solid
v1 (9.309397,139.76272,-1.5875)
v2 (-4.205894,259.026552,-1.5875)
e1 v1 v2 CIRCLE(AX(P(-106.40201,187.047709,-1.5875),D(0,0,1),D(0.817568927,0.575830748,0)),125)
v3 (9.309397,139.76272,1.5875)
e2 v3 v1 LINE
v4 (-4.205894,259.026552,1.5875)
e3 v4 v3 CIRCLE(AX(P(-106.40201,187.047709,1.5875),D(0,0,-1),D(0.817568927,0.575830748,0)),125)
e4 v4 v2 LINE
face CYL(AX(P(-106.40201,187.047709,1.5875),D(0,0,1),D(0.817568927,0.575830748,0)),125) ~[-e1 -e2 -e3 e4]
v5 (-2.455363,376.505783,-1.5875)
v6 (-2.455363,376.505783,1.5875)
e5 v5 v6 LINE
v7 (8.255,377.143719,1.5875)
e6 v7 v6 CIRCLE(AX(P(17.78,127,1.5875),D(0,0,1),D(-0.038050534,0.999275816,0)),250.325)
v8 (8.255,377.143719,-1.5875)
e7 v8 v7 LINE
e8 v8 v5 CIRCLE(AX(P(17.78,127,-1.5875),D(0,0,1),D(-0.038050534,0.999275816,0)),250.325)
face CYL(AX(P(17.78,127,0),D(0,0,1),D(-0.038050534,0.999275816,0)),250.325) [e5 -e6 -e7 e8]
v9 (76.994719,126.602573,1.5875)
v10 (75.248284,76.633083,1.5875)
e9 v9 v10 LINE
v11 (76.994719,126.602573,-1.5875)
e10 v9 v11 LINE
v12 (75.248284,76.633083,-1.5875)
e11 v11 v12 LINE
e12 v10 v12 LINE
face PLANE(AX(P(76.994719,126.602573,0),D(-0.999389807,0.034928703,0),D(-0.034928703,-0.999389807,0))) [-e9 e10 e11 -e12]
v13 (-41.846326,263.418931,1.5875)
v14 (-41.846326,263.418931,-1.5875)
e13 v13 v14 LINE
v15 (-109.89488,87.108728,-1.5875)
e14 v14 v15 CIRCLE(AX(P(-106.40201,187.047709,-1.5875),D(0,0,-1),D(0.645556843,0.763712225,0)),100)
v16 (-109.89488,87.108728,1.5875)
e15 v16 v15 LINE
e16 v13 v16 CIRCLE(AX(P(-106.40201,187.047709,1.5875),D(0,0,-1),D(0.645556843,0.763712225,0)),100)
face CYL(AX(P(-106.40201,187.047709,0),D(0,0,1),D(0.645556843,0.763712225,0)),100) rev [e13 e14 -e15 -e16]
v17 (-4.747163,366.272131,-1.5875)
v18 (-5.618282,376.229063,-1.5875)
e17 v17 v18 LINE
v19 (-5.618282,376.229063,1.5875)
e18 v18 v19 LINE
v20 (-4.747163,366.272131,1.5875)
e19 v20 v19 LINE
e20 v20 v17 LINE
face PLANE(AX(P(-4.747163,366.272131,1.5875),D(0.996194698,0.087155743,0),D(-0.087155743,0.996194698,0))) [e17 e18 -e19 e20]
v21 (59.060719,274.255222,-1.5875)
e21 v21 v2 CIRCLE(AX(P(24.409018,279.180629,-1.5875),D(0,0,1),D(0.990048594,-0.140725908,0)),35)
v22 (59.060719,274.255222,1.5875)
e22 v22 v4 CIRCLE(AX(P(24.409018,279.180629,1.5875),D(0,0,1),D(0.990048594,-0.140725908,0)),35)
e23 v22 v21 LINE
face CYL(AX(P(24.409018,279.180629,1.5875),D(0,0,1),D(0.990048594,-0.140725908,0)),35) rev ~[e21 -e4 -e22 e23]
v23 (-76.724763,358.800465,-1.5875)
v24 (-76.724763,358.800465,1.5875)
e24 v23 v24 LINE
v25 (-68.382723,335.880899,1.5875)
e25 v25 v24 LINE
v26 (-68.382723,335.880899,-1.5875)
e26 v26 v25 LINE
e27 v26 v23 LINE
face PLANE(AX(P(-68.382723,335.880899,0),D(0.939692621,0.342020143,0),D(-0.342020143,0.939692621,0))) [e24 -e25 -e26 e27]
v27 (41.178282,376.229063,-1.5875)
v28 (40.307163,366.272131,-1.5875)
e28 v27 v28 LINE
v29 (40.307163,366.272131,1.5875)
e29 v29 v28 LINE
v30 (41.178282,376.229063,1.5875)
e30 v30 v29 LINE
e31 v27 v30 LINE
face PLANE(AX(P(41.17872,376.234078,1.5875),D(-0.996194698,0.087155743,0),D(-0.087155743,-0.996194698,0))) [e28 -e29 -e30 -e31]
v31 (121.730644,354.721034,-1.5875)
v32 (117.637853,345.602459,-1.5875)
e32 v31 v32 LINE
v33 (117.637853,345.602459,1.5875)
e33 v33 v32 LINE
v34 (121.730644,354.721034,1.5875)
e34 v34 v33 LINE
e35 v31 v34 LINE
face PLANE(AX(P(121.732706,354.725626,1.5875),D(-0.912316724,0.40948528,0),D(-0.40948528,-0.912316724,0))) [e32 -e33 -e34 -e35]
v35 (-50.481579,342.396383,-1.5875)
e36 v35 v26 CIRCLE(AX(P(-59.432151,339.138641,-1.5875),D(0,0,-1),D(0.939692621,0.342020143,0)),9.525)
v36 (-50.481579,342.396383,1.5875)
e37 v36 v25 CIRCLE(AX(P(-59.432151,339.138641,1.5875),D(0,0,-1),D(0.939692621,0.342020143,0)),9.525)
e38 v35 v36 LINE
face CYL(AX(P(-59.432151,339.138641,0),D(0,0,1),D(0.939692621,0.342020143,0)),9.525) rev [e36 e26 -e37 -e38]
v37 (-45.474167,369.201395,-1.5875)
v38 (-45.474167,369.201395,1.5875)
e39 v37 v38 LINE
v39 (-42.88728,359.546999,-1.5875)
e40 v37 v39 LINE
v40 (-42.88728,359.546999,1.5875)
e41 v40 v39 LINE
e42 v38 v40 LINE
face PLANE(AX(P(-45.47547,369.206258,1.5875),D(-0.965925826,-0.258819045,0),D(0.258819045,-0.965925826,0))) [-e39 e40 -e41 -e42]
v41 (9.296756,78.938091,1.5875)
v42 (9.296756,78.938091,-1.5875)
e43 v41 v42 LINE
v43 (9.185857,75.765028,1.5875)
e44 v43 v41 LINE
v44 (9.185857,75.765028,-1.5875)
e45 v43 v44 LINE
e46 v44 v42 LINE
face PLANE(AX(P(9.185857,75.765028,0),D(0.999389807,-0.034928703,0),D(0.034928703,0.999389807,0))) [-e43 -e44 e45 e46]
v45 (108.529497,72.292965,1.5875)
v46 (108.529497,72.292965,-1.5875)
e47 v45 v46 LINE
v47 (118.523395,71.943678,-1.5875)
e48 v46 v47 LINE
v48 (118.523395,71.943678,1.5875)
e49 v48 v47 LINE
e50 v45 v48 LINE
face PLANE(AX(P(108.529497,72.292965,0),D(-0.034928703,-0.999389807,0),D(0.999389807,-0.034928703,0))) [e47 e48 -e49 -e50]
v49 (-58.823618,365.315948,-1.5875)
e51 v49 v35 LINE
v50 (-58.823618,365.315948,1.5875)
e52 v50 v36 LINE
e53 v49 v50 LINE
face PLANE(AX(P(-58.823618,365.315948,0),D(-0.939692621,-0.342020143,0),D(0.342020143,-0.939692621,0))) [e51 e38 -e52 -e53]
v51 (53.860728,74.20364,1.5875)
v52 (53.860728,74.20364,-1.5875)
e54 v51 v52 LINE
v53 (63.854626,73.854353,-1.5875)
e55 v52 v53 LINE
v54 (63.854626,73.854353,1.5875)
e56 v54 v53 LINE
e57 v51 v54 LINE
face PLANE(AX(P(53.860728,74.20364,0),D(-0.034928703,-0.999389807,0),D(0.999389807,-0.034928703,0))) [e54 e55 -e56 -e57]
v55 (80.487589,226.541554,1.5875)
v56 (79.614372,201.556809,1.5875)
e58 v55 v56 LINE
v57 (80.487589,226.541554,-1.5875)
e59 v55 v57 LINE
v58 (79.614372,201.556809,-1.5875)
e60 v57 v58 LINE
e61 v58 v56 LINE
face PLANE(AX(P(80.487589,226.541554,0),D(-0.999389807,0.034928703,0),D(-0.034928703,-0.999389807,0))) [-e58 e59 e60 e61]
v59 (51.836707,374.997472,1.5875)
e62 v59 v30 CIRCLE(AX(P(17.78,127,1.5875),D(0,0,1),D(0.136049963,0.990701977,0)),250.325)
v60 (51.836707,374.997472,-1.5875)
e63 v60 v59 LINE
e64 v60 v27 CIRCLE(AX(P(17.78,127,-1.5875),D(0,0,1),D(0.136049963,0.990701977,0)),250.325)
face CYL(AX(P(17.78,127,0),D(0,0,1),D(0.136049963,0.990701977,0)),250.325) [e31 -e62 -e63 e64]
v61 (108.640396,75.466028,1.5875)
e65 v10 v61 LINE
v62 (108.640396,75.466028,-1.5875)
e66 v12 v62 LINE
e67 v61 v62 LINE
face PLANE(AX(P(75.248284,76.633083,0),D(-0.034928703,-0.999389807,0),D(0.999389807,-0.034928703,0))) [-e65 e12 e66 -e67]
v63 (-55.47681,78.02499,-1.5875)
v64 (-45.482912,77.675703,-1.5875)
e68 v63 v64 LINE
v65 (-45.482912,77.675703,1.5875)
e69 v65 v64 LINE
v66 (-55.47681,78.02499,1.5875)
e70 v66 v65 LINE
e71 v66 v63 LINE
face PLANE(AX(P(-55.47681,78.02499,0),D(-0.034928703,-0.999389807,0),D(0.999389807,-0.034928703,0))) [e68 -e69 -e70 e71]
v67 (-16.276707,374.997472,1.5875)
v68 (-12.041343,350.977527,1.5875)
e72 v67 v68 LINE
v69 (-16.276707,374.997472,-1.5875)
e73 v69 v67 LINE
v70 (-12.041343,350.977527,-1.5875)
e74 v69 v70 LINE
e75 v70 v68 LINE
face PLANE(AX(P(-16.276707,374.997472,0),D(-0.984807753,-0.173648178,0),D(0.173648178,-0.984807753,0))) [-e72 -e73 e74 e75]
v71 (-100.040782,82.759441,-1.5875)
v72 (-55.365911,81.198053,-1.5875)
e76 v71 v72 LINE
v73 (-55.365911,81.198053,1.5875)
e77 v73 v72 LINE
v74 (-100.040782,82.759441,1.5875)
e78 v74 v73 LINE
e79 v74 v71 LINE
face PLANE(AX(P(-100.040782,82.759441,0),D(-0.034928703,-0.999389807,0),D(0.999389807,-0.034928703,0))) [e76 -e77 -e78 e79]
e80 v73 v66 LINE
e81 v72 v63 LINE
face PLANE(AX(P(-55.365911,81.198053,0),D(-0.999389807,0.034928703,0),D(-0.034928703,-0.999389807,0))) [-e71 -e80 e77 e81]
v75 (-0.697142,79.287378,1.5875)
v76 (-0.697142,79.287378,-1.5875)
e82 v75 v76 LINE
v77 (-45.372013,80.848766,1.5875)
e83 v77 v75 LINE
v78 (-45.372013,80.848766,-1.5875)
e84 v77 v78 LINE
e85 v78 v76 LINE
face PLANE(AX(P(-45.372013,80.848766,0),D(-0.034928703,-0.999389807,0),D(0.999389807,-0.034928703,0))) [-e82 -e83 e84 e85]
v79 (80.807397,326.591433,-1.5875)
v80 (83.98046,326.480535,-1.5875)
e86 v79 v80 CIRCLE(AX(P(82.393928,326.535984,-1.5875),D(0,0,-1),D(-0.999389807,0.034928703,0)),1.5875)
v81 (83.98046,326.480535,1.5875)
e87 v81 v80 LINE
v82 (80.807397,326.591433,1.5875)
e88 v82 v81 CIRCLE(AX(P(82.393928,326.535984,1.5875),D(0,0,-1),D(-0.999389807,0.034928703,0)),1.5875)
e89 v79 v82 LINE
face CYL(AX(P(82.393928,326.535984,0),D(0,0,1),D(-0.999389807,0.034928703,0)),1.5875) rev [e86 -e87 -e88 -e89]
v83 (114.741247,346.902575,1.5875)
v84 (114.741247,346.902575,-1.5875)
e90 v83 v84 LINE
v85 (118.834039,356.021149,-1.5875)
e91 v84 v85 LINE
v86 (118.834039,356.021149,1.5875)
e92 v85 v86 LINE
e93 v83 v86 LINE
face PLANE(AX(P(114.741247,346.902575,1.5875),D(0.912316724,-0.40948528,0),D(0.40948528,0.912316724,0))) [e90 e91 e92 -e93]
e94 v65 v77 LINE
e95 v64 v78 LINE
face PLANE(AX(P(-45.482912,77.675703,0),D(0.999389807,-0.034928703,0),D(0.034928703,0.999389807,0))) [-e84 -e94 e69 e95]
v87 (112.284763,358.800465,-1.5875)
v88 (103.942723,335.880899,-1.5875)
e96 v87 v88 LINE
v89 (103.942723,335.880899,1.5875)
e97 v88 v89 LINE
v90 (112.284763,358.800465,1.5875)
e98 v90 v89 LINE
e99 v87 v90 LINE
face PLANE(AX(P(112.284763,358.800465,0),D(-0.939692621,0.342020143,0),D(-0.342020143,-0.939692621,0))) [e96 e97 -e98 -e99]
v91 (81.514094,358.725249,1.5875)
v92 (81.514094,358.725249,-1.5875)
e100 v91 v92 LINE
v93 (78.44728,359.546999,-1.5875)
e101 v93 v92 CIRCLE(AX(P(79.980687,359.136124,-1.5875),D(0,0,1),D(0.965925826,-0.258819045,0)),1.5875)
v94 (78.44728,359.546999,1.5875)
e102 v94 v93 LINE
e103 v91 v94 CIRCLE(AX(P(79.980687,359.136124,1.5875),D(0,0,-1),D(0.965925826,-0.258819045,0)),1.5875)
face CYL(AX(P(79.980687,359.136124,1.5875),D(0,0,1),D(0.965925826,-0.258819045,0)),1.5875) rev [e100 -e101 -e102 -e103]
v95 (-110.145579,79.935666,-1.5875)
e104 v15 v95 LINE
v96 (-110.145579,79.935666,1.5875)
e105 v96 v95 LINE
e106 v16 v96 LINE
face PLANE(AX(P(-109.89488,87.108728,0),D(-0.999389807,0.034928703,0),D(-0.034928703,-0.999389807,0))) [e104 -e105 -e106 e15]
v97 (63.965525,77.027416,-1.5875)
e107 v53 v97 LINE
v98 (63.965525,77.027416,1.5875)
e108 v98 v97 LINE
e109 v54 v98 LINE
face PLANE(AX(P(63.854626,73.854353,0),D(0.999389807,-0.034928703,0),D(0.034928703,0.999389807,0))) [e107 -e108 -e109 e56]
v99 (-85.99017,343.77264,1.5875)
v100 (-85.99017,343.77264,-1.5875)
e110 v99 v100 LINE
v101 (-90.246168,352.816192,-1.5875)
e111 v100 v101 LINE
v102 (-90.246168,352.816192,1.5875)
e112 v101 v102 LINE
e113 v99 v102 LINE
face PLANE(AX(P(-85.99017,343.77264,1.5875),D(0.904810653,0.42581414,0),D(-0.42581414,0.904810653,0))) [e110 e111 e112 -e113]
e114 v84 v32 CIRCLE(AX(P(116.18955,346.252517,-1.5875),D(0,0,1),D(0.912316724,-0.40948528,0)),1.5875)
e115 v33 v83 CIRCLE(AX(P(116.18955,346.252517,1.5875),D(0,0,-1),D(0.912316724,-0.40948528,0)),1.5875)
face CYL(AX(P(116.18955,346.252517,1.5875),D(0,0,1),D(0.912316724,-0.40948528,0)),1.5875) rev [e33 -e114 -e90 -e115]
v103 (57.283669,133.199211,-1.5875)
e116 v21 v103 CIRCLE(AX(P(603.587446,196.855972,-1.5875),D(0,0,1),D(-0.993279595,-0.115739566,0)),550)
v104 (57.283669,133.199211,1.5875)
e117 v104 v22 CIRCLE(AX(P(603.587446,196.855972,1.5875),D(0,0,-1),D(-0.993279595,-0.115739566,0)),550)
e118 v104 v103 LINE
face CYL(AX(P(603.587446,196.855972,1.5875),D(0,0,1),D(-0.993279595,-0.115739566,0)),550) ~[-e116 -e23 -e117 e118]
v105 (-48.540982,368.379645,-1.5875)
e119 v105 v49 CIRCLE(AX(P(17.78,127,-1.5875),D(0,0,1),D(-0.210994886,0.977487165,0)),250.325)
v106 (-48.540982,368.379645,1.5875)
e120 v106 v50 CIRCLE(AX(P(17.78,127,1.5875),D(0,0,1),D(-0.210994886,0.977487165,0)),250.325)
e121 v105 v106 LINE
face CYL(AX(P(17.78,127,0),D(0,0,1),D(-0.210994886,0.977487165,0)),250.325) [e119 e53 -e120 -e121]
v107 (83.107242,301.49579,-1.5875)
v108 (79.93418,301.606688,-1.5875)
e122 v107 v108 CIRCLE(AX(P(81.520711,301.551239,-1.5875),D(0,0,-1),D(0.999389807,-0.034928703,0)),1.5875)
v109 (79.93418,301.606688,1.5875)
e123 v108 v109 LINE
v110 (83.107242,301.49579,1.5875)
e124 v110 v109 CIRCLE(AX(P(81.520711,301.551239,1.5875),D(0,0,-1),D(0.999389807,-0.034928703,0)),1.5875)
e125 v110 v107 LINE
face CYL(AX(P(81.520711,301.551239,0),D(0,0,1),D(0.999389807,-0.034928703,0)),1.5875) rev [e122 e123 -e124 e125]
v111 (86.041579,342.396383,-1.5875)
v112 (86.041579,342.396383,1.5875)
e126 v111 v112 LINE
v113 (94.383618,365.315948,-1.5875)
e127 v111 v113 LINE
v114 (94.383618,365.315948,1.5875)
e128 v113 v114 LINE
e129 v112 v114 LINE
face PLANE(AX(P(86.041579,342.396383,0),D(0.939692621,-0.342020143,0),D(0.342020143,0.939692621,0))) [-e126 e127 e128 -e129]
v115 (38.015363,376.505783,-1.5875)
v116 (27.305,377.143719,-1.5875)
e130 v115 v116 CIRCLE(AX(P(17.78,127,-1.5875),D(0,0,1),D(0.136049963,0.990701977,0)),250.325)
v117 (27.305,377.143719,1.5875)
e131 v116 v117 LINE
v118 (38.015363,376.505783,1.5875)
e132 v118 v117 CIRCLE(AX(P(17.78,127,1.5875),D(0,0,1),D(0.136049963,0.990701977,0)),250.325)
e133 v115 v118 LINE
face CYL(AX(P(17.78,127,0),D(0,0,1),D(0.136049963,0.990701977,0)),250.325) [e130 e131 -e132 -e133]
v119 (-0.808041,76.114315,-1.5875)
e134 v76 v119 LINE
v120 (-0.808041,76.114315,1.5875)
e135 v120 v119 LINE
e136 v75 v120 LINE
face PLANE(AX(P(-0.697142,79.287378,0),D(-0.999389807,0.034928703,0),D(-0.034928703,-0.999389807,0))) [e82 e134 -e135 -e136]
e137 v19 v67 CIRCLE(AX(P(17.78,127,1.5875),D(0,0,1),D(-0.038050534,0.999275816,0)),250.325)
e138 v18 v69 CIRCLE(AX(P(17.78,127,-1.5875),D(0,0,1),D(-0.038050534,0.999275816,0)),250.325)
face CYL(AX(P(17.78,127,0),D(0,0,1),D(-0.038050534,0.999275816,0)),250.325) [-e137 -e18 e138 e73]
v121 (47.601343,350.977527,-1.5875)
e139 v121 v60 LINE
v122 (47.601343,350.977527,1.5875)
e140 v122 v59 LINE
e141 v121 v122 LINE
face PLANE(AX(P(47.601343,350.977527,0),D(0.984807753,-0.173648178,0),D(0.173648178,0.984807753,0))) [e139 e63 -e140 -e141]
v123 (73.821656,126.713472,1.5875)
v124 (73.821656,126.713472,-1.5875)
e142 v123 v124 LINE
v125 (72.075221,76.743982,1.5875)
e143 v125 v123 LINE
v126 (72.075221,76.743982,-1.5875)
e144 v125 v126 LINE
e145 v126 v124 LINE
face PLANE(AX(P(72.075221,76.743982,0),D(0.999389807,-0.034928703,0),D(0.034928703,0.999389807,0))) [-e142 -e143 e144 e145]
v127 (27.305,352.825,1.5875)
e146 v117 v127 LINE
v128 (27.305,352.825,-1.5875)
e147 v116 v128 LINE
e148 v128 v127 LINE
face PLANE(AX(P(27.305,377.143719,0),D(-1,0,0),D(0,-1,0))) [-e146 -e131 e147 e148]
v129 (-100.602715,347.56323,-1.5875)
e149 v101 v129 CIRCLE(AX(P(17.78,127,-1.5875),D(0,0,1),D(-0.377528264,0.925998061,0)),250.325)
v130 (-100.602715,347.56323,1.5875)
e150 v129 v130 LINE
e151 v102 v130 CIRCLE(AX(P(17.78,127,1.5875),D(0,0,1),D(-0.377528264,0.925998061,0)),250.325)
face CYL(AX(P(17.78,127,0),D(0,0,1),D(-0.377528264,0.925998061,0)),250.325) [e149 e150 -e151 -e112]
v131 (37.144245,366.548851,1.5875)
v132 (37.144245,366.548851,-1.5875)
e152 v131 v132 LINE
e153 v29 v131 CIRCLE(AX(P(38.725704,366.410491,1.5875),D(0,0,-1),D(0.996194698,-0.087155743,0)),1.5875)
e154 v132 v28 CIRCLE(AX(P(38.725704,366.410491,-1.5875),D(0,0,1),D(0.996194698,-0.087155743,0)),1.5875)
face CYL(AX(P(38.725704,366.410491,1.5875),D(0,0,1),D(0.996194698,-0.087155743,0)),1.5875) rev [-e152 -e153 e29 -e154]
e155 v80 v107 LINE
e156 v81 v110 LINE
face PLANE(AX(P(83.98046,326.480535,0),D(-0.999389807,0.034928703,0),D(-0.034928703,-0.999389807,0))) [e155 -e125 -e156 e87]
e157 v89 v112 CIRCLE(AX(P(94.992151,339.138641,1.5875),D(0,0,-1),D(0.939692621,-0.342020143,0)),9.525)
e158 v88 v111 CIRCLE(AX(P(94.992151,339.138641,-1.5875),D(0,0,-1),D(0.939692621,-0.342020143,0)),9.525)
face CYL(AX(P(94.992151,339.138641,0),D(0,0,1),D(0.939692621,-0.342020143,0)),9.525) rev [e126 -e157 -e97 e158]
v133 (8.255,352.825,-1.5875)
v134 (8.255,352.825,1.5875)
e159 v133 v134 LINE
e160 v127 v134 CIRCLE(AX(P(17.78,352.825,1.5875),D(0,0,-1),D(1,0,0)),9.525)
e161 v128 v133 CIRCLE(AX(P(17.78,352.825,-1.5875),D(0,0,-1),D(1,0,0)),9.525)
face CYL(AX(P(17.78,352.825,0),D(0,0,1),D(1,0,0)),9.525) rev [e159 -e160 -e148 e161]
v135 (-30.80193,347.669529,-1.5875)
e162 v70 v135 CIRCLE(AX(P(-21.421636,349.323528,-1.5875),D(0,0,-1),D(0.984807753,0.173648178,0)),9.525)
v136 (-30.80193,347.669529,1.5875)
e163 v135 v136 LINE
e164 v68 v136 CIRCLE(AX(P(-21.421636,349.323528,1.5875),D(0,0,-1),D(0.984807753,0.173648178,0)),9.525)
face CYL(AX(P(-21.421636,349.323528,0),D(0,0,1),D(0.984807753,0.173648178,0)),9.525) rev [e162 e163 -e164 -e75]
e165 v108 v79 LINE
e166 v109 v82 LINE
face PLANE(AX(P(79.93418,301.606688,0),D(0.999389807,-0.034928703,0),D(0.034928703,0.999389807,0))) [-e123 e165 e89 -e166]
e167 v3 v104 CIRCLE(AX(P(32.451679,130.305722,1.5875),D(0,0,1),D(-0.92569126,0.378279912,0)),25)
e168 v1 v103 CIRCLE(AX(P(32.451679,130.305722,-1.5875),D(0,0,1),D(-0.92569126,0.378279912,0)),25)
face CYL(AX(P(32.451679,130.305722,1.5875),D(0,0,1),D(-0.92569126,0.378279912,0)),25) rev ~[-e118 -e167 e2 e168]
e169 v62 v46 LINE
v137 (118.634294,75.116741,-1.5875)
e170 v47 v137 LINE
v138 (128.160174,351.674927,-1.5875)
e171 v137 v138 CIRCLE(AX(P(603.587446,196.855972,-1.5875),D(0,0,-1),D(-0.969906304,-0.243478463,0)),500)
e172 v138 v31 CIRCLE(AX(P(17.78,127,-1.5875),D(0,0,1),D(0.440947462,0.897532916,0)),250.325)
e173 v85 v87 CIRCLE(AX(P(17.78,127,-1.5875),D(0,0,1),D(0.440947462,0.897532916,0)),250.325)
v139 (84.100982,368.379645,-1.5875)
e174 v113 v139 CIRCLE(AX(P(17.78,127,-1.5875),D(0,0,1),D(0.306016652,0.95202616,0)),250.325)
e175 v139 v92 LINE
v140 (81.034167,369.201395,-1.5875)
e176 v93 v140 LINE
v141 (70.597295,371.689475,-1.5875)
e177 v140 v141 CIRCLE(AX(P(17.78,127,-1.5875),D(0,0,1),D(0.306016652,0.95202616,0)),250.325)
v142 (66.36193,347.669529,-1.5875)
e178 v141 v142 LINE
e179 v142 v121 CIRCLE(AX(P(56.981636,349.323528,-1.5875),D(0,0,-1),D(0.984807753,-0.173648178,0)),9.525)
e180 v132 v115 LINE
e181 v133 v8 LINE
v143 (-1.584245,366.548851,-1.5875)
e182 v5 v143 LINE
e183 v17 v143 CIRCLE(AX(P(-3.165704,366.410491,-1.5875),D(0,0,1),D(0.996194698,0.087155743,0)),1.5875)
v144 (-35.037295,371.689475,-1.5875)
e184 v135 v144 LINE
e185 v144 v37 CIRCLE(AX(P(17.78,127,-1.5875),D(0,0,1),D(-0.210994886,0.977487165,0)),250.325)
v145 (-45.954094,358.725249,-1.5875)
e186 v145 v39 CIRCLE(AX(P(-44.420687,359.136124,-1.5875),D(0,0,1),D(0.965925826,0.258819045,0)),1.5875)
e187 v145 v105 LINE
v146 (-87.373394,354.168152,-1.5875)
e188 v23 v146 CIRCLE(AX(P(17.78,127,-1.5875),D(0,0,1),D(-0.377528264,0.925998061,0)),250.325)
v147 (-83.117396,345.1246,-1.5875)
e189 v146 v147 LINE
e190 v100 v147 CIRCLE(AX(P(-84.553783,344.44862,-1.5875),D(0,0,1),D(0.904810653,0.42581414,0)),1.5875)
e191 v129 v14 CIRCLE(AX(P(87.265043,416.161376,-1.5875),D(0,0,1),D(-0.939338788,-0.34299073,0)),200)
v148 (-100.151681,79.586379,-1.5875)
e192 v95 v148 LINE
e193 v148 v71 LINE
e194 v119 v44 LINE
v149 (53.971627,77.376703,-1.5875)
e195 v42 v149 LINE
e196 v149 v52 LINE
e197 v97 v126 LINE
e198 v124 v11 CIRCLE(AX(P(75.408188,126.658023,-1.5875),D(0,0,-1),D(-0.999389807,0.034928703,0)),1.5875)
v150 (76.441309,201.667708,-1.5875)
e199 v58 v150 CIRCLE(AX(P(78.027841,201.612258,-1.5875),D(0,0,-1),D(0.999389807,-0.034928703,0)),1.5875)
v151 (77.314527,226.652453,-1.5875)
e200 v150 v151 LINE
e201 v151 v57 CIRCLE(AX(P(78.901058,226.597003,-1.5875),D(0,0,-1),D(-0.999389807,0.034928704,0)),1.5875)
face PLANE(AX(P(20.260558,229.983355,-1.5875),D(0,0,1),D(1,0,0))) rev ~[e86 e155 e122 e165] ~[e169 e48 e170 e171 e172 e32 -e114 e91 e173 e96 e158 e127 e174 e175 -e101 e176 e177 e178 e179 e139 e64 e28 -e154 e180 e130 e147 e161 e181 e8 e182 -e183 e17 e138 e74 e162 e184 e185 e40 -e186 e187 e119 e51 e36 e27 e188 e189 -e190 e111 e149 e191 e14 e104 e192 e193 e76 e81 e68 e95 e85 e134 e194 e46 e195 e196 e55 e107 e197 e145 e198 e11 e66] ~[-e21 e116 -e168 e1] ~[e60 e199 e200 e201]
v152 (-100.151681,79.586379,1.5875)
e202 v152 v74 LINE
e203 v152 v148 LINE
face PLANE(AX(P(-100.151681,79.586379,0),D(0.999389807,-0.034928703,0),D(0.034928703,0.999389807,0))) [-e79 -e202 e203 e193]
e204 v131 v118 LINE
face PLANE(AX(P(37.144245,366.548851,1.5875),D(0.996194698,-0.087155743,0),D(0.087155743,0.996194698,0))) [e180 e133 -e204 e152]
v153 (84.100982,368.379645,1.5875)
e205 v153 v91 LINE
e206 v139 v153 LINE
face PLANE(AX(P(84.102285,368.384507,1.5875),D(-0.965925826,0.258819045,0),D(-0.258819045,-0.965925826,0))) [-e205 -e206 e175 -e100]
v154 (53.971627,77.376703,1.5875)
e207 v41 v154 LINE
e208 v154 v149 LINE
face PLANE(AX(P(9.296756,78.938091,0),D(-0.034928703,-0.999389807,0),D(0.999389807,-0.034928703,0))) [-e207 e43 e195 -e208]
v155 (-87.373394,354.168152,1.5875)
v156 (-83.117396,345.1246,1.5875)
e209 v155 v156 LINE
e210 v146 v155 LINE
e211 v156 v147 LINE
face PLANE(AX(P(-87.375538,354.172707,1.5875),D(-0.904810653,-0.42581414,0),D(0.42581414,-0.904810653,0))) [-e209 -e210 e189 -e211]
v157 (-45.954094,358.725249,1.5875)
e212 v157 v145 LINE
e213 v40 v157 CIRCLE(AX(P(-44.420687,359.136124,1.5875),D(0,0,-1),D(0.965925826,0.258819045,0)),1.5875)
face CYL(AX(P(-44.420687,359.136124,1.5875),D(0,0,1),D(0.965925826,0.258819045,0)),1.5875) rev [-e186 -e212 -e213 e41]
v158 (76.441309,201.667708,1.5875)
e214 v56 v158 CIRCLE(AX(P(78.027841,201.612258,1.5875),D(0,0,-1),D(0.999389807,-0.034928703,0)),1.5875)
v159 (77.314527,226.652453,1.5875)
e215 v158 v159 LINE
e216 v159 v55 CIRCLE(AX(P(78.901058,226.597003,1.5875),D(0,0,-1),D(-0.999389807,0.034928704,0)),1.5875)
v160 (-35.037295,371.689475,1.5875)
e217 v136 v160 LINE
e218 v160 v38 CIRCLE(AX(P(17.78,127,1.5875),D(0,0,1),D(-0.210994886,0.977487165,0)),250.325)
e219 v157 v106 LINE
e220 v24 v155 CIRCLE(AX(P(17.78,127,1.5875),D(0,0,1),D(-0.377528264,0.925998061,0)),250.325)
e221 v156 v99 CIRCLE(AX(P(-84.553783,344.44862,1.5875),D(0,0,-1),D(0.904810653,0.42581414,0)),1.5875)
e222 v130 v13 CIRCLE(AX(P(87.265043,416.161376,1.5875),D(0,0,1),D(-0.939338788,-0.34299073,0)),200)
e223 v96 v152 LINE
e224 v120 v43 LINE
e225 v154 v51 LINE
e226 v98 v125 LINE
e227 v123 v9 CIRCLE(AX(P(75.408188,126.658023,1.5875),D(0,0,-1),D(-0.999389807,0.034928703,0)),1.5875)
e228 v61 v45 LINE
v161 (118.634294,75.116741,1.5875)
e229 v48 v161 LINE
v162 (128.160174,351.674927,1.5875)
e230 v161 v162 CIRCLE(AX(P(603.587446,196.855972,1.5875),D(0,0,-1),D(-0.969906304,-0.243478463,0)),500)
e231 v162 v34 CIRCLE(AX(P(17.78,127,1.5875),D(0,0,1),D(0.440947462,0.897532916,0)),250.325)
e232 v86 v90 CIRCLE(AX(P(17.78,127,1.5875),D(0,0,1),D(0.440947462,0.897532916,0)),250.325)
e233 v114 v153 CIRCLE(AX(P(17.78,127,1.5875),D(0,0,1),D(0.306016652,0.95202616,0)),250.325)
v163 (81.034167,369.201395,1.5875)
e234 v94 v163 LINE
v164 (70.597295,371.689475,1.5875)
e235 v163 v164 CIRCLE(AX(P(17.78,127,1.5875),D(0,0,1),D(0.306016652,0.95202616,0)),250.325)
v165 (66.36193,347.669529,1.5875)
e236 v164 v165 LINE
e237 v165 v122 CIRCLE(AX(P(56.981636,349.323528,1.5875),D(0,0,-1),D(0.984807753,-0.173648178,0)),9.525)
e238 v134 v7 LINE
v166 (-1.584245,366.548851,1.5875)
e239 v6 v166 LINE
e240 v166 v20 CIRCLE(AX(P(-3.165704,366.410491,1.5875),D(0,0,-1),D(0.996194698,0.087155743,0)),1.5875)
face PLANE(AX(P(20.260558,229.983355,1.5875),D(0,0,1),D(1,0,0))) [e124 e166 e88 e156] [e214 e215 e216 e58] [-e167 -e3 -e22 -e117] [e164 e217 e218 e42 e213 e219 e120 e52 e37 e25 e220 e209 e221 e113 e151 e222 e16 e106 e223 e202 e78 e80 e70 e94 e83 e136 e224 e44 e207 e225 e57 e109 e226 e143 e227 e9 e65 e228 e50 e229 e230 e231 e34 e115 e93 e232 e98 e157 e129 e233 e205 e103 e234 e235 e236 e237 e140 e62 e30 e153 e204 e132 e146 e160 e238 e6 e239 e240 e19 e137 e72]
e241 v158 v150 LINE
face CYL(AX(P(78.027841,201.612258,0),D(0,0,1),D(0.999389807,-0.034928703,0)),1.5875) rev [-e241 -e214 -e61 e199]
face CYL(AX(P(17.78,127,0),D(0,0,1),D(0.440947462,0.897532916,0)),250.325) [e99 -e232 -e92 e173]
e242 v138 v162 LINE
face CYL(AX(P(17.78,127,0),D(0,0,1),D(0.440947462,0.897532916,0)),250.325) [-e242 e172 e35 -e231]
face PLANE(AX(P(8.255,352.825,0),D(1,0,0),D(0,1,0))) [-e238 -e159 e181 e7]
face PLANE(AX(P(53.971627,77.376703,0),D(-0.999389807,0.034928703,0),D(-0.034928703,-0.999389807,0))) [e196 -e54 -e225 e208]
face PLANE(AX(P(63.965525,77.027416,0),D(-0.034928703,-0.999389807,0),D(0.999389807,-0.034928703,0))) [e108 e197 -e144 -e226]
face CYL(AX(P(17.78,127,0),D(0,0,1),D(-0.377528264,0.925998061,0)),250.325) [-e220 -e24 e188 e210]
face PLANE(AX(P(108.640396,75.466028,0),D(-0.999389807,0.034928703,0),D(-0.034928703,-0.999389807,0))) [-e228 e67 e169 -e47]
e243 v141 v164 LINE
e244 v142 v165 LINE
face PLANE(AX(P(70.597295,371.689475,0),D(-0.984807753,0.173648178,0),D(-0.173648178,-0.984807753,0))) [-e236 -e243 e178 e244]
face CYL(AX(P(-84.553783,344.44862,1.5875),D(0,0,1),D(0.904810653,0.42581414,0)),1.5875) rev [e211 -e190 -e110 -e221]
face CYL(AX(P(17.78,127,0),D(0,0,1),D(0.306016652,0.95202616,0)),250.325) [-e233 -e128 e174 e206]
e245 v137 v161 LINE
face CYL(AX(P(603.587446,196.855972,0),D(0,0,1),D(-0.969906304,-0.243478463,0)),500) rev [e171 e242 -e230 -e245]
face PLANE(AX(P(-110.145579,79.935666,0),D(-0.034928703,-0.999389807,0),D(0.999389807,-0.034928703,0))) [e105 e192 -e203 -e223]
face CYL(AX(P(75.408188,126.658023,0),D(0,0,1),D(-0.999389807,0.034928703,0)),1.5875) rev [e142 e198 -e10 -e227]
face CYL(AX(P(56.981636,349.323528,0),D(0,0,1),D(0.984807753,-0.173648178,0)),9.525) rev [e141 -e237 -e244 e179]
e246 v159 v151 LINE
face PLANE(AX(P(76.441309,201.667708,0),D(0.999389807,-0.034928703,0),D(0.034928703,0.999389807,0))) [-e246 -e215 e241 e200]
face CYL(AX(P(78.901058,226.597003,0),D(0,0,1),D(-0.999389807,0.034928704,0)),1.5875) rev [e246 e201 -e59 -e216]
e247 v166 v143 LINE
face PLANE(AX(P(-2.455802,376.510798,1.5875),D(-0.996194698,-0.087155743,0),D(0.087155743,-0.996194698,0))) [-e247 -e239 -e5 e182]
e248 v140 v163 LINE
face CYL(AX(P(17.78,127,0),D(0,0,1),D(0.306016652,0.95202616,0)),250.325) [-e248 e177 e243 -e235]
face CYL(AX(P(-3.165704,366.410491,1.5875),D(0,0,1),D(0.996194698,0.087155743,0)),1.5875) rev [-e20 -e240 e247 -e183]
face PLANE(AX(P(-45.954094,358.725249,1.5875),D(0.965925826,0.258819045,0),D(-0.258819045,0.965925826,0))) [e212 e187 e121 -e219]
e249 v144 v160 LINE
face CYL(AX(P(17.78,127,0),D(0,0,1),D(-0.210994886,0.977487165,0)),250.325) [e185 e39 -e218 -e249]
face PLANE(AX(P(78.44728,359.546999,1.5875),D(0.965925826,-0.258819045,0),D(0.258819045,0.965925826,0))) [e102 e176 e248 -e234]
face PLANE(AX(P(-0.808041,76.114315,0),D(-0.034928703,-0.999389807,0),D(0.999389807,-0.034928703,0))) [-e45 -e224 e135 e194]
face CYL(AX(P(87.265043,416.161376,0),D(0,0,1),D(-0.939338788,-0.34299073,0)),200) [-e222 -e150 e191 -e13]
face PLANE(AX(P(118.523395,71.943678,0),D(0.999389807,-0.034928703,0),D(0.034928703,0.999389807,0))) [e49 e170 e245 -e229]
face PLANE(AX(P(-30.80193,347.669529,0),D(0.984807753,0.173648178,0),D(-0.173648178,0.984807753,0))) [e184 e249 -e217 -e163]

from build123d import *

# Parameters (mm, degrees)
BOSS_EXTRUDE1_DEPTH = 1.5875
CUT_EXTRUDE1_DEPTH  = 10
CUT_EXTRUDE2_DEPTH  = 399.337162784


with BuildPart() as part:
    # Sketch1 → Boss-Extrude1 (new, symmetric)
    with BuildSketch(Plane.XY):
        with BuildLine():
            Line((118.523395286, 71.943678131), (118.634293919, 75.116740767))
            ThreePointArc((118.634293919, 75.116740767), (103.883786228, 214.067962894), (128.160173541, 351.674927204))
            ThreePointArc((128.160173541, 351.674927204), (120.284402828, 355.375683964), (112.284762731, 358.800464724))
            Line((112.284762731, 358.800464724), (103.942723114, 335.880899242))
            ThreePointArc((103.942723114, 335.880899242), (91.734409036, 330.188068894), (86.041578688, 342.396382972))
            Line((86.041578688, 342.396382972), (94.383618305, 365.315948454))
            ThreePointArc((94.383618305, 365.315948454), (82.568877465, 368.795382466), (70.597294753, 371.689474641))
            Line((70.597294753, 371.689474641), (66.36193024, 347.669528881))
            ThreePointArc((66.36193024, 347.669528881), (55.3276375, 339.943233926), (47.601342545, 350.977526666))
            Line((47.601342545, 350.977526666), (51.836707058, 374.997472425))
            ThreePointArc((51.836707058, 374.997472425), (39.597261303, 376.3724378), (27.305, 377.14371869))
            Line((27.305, 377.14371869), (27.305, 352.825))
            ThreePointArc((27.305, 352.825), (17.78, 343.3), (8.255, 352.825))
            Line((8.255, 352.825), (8.255, 377.14371869))
            ThreePointArc((8.255, 377.14371869), (-4.037261303, 376.3724378), (-16.276707058, 374.997472425))
            Line((-16.276707058, 374.997472425), (-12.041342545, 350.977526666))
            ThreePointArc((-12.041342545, 350.977526666), (-19.7676375, 339.943233926), (-30.80193024, 347.669528881))
            Line((-30.80193024, 347.669528881), (-35.037294753, 371.689474641))
            ThreePointArc((-35.037294753, 371.689474641), (-47.008877465, 368.795382466), (-58.823618305, 365.315948454))
            Line((-58.823618305, 365.315948454), (-50.481578688, 342.396382972))
            ThreePointArc((-50.481578688, 342.396382972), (-56.174409036, 330.188068894), (-68.382723114, 335.880899242))
            Line((-68.382723114, 335.880899242), (-76.724762731, 358.800464724))
            ThreePointArc((-76.724762731, 358.800464724), (-88.8119245, 353.496726812), (-100.602714669, 347.563230147))
            ThreePointArc((-100.602714669, 347.563230147), (-76.713636703, 301.658133404), (-41.846325708, 263.418931306))
            ThreePointArc((-41.846325708, 263.418931306), (-13.109519742, 151.040608787), (-109.894880363, 87.108728174))
            Line((-109.894880363, 87.108728174), (-110.145579114, 79.935665538))
            Line((-110.145579114, 79.935665538), (-100.151681047, 79.586378505))
            Line((-100.151681047, 79.586378505), (-100.040782415, 82.759441142))
            Line((-100.040782415, 82.759441142), (-55.365911398, 81.198053081))
            Line((-55.365911398, 81.198053081), (-55.476810031, 78.024990444))
            Line((-55.476810031, 78.024990444), (-45.482911964, 77.675703412))
            Line((-45.482911964, 77.675703412), (-45.372013331, 80.848766048))
            Line((-45.372013331, 80.848766048), (-0.697142315, 79.287377987))
            Line((-0.697142315, 79.287377987), (-0.808040947, 76.114315351))
            Line((-0.808040947, 76.114315351), (9.185857119, 75.765028318))
            Line((9.185857119, 75.765028318), (9.296755752, 78.938090955))
            Line((9.296755752, 78.938090955), (53.971626769, 77.376702893))
            Line((53.971626769, 77.376702893), (53.860728136, 74.203640257))
            Line((53.860728136, 74.203640257), (63.854626203, 73.854353225))
            Line((63.854626203, 73.854353225), (63.965524835, 77.027415861))
            Line((63.965524835, 77.027415861), (72.0752213, 76.74398173))
            Line((72.0752213, 76.74398173), (73.821656463, 126.713472064))
            ThreePointArc((73.821656463, 126.713472064), (75.463637097, 128.244554066), (76.994719099, 126.602573431))
            Line((76.994719099, 126.602573431), (75.248283936, 76.633083097))
            Line((75.248283936, 76.633083097), (108.640395852, 75.4660278))
            Line((108.640395852, 75.4660278), (108.529497219, 72.292965164))
            Line((108.529497219, 72.292965164), (118.523395286, 71.943678131))
        make_face()
        with BuildLine():
            Line((79.934179532, 301.606688232), (80.807397113, 326.591433399))
            ThreePointArc((80.807397113, 326.591433399), (82.449377747, 328.122515401), (83.980459749, 326.480534766))
            Line((83.980459749, 326.480534766), (83.107242168, 301.4957896))
            ThreePointArc((83.107242168, 301.4957896), (81.465261533, 299.964707598), (79.934179532, 301.606688232))
        make_face(mode=Mode.SUBTRACT)
        with BuildLine():
            ThreePointArc((79.614371843, 201.556808932), (77.972391208, 200.02572693), (76.441309207, 201.667707565))
            Line((76.441309207, 201.667707565), (77.314526788, 226.652452732))
            ThreePointArc((77.314526788, 226.652452732), (78.956507422, 228.183534733), (80.487589424, 226.541554099))
            Line((80.487589424, 226.541554099), (79.614371843, 201.556808932))
        make_face(mode=Mode.SUBTRACT)
    extrude(amount=BOSS_EXTRUDE1_DEPTH, both=True)

    # Sketch2 → Cut-Extrude1 (cut)
    with BuildSketch(Plane.XY.offset(1.5875)):
        with BuildLine():
            ThreePointArc((59.060719004, 274.255221739), (16.218243133, 313.208722852), (-4.20589422, 259.026552342))
            ThreePointArc((-4.20589422, 259.026552342), (17.803012445, 201.122949157), (9.309397428, 139.762719868))
            ThreePointArc((9.309397428, 139.762719868), (29.062919552, 105.536460681), (57.283668785, 133.199211213))
            ThreePointArc((57.283668785, 133.199211213), (53.631087043, 203.784426197), (59.060719004, 274.255221739))
        make_face()
    extrude(amount=-CUT_EXTRUDE1_DEPTH, mode=Mode.SUBTRACT)

    # Sketch3 → Cut-Extrude2 (cut, through all)
    with BuildSketch(Plane.XY.offset(1.5875)):
        with BuildLine():
            Line((-87.375537588, 354.172706758), (-83.117396192, 345.124600224))
            ThreePointArc((-83.117396192, 345.124600224), (-83.877803157, 343.012233365), (-85.990170016, 343.772640331))
            Line((-85.990170016, 343.772640331), (-90.248311413, 352.820746865))
            ThreePointArc((-90.248311413, 352.820746865), (-89.487904447, 354.933113724), (-87.375537588, 354.172706758))
        make_face()
        with BuildLine():
            Line((-45.475470216, 369.2062577), (-42.887279765, 359.546999437))
            ThreePointArc((-42.887279765, 359.546999437), (-44.00981178, 357.602716954), (-45.954094263, 358.725248969))
            Line((-45.954094263, 358.725248969), (-48.542284715, 368.384507232))
            ThreePointArc((-48.542284715, 368.384507232), (-47.419752699, 370.328789715), (-45.475470216, 369.2062577))
        make_face()
        with BuildLine():
            Line((-2.45580222, 376.510797541), (-1.584244793, 366.548850561))
            ThreePointArc((-1.584244793, 366.548850561), (-3.027344134, 364.829031736), (-4.747162959, 366.272131077))
            Line((-4.747162959, 366.272131077), (-5.618720387, 376.234078058))
            ThreePointArc((-5.618720387, 376.234078058), (-4.175621045, 377.953896883), (-2.45580222, 376.510797541))
        make_face()
        with BuildLine():
            Line((41.178720387, 376.234078058), (40.307162959, 366.272131077))
            ThreePointArc((40.307162959, 366.272131077), (38.587344134, 364.829031736), (37.144244793, 366.548850561))
            Line((37.144244793, 366.548850561), (38.01580222, 376.510797541))
            ThreePointArc((38.01580222, 376.510797541), (39.735621045, 377.953896883), (41.178720387, 376.234078058))
        make_face()
        with BuildLine():
            Line((84.102284715, 368.384507232), (81.514094263, 358.725248969))
            ThreePointArc((81.514094263, 358.725248969), (79.56981178, 357.602716954), (78.447279765, 359.546999437))
            Line((78.447279765, 359.546999437), (81.035470216, 369.2062577))
            ThreePointArc((81.035470216, 369.2062577), (82.979752699, 370.328789715), (84.102284715, 368.384507232))
        make_face()
        with BuildLine():
            Line((121.732705627, 354.725626081), (117.637852823, 345.60245884))
            ThreePointArc((117.637852823, 345.60245884), (115.539492141, 344.804213923), (114.741247224, 346.902574605))
            Line((114.741247224, 346.902574605), (118.836100028, 356.025741846))
            ThreePointArc((118.836100028, 356.025741846), (120.934460711, 356.823986763), (121.732705627, 354.725626081))
        make_face()
    extrude(amount=-CUT_EXTRUDE2_DEPTH, mode=Mode.SUBTRACT)


solid = part.part
